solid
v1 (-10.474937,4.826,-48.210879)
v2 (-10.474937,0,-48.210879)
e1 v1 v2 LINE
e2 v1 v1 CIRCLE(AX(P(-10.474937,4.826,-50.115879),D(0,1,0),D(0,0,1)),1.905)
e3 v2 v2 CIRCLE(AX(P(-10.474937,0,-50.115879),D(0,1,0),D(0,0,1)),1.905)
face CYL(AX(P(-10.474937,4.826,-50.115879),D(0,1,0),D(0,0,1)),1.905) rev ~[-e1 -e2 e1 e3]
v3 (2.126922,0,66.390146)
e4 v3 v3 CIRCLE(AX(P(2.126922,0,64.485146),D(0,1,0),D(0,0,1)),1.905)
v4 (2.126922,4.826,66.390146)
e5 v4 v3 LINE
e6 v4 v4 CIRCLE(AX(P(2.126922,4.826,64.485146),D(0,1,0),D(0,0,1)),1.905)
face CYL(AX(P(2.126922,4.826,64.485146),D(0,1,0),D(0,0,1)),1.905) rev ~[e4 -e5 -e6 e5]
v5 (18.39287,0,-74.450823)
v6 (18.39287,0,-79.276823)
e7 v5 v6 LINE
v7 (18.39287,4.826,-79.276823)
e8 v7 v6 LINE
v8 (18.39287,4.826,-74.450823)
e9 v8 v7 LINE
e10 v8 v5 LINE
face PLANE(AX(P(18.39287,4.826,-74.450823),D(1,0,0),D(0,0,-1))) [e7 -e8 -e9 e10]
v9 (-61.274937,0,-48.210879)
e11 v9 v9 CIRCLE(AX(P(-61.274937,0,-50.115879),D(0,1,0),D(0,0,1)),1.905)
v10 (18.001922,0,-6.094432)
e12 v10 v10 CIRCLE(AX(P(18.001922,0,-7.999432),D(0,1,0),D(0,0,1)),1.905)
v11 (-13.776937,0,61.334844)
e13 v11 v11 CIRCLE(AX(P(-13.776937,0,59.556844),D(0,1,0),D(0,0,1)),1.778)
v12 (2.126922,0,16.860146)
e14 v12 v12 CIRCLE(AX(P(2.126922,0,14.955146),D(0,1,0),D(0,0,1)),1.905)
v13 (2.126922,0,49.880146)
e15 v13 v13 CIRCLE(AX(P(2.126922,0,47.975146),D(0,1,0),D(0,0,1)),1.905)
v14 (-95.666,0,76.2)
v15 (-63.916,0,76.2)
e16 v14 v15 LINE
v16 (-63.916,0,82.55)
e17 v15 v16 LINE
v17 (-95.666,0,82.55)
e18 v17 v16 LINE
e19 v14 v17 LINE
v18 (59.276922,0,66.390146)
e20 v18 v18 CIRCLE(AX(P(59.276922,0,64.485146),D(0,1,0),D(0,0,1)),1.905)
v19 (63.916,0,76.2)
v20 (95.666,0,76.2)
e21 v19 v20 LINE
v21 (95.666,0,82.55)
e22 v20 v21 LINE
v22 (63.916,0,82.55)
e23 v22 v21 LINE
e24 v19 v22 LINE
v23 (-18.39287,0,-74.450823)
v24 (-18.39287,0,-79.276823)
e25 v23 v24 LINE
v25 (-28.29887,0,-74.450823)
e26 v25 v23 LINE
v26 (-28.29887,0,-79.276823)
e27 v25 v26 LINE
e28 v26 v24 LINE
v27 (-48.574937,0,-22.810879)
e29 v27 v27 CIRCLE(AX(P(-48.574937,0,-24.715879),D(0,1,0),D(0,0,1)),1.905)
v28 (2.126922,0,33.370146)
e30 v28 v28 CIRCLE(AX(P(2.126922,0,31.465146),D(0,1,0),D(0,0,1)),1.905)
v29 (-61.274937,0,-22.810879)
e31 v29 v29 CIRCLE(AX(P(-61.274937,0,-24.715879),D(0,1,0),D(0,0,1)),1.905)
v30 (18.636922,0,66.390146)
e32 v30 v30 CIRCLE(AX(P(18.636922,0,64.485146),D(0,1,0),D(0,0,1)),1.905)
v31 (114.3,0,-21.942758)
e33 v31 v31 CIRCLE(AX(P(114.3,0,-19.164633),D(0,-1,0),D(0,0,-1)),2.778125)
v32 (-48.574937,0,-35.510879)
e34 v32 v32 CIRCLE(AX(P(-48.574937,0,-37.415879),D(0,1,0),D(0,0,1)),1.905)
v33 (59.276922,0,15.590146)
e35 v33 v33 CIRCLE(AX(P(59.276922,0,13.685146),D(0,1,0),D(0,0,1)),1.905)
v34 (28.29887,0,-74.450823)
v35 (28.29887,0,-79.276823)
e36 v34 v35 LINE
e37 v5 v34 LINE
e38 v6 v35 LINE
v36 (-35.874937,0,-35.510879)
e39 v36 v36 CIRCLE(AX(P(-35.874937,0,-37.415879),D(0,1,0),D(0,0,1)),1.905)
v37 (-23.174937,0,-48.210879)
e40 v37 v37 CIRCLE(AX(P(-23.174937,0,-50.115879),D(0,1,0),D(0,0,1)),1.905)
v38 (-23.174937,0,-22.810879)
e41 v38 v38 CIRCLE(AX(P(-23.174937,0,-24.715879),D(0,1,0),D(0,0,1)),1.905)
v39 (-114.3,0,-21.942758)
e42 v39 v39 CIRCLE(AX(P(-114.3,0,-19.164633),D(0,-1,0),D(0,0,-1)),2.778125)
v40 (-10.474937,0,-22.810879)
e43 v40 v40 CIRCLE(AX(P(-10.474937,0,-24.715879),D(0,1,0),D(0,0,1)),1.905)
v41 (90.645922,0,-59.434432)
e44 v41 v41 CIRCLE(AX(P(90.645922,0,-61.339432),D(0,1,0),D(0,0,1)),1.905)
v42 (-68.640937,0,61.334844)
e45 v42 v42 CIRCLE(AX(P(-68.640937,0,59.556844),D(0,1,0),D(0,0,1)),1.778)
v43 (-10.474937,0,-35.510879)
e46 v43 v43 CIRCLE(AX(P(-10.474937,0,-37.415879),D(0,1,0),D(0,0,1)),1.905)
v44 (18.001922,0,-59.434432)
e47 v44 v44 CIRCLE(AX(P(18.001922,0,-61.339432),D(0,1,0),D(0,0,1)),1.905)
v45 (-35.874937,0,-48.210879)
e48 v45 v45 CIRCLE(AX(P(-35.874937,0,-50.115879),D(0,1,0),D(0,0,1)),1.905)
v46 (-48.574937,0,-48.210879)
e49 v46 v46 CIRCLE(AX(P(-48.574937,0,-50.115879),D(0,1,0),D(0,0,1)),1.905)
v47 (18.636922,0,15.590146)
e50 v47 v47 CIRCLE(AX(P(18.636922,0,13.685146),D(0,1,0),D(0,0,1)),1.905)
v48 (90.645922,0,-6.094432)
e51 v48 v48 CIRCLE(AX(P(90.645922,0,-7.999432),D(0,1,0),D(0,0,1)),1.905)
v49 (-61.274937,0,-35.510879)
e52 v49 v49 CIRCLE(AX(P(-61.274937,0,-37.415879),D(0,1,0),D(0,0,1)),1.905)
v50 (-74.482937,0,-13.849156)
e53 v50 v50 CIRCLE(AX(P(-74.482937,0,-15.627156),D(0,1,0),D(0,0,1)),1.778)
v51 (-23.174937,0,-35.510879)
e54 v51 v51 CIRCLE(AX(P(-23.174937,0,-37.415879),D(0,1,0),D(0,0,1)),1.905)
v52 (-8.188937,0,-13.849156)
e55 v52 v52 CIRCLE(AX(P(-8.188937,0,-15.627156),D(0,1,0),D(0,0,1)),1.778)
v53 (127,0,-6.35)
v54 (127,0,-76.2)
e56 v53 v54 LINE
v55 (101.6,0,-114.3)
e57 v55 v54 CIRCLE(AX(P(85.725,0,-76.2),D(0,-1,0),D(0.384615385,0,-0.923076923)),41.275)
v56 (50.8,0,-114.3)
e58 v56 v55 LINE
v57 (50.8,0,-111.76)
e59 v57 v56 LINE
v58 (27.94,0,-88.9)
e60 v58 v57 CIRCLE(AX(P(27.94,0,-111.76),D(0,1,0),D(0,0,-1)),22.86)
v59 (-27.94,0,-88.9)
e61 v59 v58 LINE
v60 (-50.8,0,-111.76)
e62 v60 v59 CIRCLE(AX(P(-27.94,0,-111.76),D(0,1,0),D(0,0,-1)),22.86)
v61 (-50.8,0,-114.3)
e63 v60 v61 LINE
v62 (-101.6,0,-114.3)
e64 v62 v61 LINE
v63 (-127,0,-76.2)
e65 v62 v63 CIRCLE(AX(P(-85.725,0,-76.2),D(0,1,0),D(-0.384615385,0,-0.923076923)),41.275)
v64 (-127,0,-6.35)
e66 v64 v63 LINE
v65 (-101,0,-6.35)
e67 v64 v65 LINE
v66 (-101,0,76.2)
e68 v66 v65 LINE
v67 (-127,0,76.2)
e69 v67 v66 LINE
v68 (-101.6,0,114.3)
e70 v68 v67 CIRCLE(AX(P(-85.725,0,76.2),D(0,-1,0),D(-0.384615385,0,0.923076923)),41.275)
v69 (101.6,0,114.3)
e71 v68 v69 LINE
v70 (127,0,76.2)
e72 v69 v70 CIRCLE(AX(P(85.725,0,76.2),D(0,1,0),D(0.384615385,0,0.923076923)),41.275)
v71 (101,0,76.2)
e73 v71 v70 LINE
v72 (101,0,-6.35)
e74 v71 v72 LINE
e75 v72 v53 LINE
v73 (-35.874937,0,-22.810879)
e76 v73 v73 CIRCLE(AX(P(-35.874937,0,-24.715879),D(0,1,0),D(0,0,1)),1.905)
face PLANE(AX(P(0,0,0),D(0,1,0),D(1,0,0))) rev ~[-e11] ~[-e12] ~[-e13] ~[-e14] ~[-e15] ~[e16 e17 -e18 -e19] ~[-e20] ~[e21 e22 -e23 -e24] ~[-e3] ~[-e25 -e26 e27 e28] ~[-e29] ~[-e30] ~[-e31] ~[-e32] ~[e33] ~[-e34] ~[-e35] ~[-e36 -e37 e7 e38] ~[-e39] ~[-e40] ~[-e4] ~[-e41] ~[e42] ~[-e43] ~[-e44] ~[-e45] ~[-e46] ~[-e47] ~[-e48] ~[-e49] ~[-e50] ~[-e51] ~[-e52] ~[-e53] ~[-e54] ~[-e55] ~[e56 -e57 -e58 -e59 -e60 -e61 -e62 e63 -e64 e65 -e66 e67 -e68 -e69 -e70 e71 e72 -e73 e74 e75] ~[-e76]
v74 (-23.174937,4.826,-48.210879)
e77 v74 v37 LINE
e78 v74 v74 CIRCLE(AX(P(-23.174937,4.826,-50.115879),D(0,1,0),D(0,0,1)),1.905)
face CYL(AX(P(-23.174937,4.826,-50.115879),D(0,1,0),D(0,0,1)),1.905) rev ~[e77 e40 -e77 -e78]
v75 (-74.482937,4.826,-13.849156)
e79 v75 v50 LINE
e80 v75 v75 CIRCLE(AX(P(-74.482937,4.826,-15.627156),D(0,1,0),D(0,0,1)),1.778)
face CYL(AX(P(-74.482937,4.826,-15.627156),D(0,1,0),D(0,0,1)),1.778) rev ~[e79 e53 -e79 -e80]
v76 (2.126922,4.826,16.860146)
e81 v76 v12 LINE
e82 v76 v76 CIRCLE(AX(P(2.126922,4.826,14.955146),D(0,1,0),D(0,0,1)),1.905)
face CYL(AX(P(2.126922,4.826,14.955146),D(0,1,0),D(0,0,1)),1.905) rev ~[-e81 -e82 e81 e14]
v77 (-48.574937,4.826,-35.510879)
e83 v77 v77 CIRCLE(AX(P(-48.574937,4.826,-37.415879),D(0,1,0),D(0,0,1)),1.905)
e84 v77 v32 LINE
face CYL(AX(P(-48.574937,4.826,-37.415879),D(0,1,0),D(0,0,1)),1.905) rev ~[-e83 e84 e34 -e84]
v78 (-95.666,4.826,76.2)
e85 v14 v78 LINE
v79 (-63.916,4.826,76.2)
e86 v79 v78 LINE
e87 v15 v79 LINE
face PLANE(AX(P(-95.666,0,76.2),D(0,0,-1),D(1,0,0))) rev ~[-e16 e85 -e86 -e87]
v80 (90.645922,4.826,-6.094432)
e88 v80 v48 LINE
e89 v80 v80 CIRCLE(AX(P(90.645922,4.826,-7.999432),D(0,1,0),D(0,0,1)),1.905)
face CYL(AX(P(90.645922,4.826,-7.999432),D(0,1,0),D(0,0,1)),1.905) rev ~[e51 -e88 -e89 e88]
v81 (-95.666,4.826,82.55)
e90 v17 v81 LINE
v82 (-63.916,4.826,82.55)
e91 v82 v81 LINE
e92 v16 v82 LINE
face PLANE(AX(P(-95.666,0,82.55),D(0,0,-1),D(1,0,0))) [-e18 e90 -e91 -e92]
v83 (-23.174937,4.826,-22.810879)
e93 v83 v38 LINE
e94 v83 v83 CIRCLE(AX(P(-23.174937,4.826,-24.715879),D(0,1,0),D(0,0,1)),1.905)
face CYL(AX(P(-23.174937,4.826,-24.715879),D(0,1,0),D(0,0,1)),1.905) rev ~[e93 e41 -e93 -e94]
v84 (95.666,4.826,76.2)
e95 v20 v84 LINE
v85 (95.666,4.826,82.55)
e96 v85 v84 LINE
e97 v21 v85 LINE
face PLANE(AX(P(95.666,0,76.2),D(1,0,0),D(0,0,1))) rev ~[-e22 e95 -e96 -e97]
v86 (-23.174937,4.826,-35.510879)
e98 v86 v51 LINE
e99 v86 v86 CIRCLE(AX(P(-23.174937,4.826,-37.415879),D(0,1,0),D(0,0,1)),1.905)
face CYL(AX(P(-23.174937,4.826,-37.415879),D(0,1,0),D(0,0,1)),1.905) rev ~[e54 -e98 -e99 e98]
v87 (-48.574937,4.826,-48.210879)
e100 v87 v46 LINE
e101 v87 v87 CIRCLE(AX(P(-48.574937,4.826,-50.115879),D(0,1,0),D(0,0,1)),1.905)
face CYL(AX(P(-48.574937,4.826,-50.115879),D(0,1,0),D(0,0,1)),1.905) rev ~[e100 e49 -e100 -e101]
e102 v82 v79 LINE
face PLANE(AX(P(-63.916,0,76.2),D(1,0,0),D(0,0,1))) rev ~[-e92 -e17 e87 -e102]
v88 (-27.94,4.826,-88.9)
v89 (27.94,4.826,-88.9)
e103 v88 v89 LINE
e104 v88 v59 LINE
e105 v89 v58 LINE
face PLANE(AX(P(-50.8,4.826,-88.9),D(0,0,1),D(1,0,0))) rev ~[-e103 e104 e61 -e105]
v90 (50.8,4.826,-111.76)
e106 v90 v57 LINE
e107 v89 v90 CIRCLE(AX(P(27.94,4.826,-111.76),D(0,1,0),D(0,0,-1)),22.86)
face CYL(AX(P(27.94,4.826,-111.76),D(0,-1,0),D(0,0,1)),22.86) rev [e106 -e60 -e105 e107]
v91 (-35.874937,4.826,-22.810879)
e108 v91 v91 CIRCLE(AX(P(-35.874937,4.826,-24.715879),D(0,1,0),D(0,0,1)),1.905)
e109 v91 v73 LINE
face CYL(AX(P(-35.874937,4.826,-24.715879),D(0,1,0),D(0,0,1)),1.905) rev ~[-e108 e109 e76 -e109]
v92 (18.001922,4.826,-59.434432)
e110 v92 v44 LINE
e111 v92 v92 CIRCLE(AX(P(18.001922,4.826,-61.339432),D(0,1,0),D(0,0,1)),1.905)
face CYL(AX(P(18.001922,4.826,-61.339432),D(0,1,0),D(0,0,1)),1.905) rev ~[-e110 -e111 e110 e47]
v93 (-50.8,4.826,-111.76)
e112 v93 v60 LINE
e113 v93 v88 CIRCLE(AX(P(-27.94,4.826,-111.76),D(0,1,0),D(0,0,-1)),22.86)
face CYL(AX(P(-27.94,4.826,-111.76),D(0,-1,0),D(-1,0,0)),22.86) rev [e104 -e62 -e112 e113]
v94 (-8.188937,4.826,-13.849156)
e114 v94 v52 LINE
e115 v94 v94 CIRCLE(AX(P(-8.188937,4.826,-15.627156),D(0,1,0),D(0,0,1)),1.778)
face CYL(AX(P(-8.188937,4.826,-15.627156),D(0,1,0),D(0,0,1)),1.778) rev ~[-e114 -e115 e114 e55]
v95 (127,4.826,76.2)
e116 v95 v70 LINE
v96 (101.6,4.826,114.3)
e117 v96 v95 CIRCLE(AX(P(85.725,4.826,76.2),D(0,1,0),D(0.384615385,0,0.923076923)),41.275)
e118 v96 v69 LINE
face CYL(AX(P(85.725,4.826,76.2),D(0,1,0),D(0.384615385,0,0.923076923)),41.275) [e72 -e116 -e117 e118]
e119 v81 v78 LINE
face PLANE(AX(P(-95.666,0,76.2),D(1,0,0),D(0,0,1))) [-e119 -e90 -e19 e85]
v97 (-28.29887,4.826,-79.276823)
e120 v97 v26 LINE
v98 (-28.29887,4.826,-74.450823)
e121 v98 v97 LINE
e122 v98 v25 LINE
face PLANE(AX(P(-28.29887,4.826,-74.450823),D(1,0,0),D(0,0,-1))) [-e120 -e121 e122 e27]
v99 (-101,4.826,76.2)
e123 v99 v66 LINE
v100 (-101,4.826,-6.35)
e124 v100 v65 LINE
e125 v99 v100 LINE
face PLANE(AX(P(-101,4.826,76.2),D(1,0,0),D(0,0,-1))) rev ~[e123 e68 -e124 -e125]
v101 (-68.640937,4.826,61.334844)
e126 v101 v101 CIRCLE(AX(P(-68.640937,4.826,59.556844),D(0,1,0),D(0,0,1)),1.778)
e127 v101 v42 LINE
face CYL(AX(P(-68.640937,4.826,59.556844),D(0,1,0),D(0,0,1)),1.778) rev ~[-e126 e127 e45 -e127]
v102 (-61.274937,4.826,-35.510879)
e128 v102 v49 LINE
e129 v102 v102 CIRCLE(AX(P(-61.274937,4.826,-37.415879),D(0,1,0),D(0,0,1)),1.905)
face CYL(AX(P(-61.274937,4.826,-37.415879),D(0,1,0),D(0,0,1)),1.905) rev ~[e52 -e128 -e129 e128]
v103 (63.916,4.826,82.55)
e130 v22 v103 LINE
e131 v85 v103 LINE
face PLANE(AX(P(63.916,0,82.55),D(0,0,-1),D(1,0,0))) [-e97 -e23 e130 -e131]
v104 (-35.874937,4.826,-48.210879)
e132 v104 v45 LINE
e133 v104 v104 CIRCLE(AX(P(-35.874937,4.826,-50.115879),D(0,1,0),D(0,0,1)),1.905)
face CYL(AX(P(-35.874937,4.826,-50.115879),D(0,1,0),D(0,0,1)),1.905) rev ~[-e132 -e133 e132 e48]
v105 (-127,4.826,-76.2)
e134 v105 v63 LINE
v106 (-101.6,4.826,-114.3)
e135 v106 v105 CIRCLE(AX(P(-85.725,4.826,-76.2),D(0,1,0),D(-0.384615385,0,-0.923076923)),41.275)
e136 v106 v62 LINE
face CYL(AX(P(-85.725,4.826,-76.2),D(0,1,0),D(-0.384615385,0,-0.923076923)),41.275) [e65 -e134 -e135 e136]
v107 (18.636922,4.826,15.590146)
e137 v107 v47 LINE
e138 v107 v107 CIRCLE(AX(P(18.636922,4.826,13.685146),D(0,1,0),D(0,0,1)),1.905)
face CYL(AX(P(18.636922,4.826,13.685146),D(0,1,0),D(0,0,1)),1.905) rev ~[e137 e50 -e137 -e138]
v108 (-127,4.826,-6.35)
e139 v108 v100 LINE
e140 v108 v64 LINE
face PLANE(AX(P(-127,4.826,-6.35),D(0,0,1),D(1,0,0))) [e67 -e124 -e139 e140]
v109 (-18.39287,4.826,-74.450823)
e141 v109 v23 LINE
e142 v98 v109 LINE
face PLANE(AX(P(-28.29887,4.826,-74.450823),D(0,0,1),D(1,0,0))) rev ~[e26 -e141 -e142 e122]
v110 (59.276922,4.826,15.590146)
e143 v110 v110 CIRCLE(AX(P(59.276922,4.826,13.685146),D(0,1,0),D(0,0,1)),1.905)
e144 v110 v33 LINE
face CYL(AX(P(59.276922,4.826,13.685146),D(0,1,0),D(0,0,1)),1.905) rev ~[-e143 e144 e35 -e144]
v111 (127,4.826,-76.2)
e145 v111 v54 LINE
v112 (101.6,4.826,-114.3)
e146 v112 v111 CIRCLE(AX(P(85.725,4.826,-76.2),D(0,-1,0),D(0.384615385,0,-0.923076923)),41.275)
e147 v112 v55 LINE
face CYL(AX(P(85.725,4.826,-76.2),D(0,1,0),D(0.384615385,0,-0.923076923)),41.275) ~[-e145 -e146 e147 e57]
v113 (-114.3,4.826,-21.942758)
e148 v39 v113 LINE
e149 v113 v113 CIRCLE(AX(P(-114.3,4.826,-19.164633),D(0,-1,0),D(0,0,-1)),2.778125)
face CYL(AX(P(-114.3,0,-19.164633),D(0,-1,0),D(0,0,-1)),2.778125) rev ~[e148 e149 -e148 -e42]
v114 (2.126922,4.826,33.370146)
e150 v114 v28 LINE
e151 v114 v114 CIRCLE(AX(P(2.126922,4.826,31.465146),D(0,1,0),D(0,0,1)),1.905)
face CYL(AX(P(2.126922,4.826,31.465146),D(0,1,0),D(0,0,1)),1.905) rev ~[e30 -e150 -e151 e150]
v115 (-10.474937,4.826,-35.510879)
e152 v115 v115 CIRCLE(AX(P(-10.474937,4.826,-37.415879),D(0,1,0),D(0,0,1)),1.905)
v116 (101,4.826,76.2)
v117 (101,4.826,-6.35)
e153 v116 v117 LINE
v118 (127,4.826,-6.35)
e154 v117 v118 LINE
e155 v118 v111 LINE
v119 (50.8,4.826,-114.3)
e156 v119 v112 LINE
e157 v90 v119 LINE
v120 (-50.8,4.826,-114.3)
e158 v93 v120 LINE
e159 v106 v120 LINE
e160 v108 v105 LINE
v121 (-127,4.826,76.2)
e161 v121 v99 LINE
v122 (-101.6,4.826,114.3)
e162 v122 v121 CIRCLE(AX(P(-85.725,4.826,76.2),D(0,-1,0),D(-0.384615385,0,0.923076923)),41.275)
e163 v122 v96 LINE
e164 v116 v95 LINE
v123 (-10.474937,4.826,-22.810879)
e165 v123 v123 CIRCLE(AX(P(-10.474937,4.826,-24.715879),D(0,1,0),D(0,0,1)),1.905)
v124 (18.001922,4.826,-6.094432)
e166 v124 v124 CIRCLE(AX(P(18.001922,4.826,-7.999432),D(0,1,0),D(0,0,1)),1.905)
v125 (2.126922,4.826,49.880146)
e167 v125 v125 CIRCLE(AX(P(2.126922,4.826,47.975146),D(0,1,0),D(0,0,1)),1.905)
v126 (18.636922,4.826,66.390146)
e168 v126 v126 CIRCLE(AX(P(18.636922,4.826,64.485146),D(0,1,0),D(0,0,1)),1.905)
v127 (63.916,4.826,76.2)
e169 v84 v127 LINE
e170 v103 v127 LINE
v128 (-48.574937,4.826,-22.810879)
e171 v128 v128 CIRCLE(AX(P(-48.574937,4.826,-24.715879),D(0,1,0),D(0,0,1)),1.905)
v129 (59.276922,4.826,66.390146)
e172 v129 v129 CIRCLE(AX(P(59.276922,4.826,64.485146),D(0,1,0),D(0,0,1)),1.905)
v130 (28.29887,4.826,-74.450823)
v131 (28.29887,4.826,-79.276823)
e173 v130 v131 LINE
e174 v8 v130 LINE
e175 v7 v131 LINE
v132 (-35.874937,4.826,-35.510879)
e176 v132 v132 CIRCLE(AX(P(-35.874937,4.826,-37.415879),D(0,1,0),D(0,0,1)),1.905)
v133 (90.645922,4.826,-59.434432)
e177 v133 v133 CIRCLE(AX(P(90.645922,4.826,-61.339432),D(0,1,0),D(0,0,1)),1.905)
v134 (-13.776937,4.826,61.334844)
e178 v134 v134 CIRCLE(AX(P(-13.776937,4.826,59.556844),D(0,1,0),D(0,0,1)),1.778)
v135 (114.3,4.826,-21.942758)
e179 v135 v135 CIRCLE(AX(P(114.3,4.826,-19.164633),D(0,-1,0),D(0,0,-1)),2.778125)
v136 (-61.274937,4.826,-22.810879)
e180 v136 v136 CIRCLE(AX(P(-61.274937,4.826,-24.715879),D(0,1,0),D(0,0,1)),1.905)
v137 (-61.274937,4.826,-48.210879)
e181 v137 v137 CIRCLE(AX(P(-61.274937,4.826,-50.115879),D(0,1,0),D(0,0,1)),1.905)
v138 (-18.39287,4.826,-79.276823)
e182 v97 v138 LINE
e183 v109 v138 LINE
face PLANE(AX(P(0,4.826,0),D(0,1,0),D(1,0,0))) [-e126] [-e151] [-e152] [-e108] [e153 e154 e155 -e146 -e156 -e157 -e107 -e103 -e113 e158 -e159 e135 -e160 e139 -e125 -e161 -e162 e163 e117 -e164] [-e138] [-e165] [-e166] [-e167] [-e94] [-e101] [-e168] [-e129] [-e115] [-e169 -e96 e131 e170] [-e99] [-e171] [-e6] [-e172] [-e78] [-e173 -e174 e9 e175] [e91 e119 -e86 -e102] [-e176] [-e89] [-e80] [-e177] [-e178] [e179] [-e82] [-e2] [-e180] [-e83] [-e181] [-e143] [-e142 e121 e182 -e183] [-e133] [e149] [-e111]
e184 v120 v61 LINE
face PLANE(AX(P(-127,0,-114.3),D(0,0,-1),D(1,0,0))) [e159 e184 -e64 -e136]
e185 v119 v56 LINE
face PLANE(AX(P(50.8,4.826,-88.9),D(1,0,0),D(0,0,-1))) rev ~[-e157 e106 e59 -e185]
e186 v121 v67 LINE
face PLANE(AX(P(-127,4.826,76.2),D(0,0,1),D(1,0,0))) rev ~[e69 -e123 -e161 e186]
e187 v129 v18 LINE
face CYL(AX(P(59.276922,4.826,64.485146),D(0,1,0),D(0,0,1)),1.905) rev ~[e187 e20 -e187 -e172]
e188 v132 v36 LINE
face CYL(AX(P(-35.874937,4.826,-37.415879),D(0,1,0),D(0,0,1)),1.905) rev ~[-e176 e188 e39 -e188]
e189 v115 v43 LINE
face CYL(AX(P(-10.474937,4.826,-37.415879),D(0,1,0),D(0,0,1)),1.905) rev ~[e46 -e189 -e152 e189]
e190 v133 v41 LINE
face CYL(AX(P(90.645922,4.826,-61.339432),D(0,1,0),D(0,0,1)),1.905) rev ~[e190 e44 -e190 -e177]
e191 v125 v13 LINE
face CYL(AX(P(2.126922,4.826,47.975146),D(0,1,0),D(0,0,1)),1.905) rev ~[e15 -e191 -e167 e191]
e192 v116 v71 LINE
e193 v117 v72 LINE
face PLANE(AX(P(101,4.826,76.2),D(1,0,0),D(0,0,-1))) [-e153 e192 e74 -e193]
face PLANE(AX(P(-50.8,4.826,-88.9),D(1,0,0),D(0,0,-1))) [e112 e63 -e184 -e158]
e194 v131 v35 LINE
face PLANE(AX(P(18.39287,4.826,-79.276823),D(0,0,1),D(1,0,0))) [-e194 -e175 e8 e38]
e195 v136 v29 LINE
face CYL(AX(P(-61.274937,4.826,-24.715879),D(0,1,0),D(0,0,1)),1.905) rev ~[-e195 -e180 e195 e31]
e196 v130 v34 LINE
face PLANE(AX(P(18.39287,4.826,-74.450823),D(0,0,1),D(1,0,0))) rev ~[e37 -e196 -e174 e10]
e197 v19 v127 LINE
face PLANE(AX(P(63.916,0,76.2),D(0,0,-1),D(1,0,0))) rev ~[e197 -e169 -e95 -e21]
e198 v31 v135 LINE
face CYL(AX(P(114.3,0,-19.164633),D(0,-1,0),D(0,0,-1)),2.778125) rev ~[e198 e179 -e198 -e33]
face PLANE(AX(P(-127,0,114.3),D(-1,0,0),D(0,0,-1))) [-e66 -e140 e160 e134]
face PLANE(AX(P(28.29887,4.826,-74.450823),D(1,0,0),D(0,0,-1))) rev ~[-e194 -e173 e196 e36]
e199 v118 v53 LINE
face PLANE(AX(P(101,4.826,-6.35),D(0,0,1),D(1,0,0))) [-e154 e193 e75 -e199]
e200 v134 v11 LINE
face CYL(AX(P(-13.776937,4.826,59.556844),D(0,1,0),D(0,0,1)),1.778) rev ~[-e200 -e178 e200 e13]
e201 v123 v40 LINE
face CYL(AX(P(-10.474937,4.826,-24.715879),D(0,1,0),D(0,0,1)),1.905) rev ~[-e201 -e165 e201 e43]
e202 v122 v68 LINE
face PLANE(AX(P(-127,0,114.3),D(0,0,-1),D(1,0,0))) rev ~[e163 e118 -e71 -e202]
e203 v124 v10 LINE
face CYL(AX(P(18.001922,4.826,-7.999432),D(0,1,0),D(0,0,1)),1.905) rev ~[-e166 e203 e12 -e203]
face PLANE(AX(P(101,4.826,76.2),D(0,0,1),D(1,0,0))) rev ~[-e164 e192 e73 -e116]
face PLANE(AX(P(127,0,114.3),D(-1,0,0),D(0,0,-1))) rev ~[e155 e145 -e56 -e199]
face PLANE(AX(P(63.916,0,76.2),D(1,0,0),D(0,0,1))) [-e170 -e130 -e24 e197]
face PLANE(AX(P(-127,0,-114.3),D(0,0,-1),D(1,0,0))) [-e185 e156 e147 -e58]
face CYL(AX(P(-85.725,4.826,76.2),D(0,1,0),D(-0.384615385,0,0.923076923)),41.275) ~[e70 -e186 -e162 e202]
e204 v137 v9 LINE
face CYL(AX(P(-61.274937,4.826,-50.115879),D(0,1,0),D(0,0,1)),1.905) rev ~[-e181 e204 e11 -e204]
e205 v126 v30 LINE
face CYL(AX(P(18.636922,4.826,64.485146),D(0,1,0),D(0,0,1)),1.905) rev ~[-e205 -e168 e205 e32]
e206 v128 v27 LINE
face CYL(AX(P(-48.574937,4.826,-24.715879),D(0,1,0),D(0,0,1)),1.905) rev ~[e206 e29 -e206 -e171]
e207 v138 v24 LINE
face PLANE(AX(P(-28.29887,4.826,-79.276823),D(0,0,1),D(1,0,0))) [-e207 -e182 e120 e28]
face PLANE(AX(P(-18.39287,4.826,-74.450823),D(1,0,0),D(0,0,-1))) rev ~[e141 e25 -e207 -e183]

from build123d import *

# Parameters (mm, degrees)
SKETCH1_W           = 254
SKETCH1_H           = 228.6
BOSS_EXTRUDE1_DEPTH = 4.826
SKETCH2_W           = 26.00000007
SKETCH2_H           = 82.55
CUT_EXTRUDE1_DEPTH  = 4.826
CUT_EXTRUDE3_DEPTH  = 4.826
SKETCH7_W           = 50.8
SKETCH7_H           = 25.4
CUT_EXTRUDE5_DEPTH  = 4.826
FILLET9_R           = 22.86
FILLET10_R          = 22.86
CUT_EXTRUDE6_DEPTH  = 4.826
SKETCH9_W           = 31.75
SKETCH9_H           = 6.35
CUT_EXTRUDE7_DEPTH  = 171.929167423
SKETCH11_W          = 9.906
SKETCH11_H          = 4.826
CUT_EXTRUDE8_DEPTH  = 171.929167423
SKETCH13_R          = 1.905
CUT_EXTRUDE10_DEPTH = 171.929167423
SKETCH14_R          = 1.778
CUT_EXTRUDE11_DEPTH = 171.929167423
SKETCH15_R          = 1.905
CUT_EXTRUDE12_DEPTH = 171.929167423
SKETCH16_R          = 1.905
CUT_EXTRUDE13_DEPTH = 171.929167423
SKETCH17_R          = 2.778125
CUT_EXTRUDE14_DEPTH = 171.929167423
SKETCH18_R          = 1.905
CUT_EXTRUDE15_DEPTH = 171.929167423


with BuildPart() as part:
    # Sketch1 → Boss-Extrude1 (new body)
    with BuildSketch(Plane(origin=(0, 0, 0), x_dir=(1, 0, 0), z_dir=(0, 1, 0))):
        Rectangle(SKETCH1_W, SKETCH1_H)
    extrude(amount=BOSS_EXTRUDE1_DEPTH)

    # Sketch2 → Cut-Extrude1 (cut)
    with BuildSketch(Plane(origin=(0, 4.826, 0), x_dir=(1, 0, 0), z_dir=(0, 1, 0))):
        with Locations((-113.999999965, -34.925)):
            Rectangle(SKETCH2_W, SKETCH2_H)
        with Locations((113.999999965, -34.925)):
            Rectangle(SKETCH2_W, SKETCH2_H)
    extrude(amount=-CUT_EXTRUDE1_DEPTH, mode=Mode.SUBTRACT)

    # Sketch4 → Cut-Extrude3 (cut)
    with BuildSketch(Plane(origin=(0, 4.826, 0), x_dir=(1, 0, 0), z_dir=(0, 1, 0))):
        with BuildLine():
            Line((-127, 76.2), (-127, 114.3))
            Line((-127, 114.3), (-101.6, 114.3))
            ThreePointArc((-101.6, 114.3), (-120.067875899, 99.095250599), (-127, 76.2))
        make_face()
        with BuildLine():
            Line((127, 76.2), (127, 114.3))
            Line((127, 114.3), (101.6, 114.3))
            ThreePointArc((101.6, 114.3), (120.067875899, 99.095250599), (127, 76.2))
        make_face()
    extrude(amount=-CUT_EXTRUDE3_DEPTH, mode=Mode.SUBTRACT)

    # Sketch7 → Cut-Extrude5 (cut)
    with BuildSketch(Plane(origin=(0, 4.826, 0), x_dir=(1, 0, 0), z_dir=(0, 1, 0))):
        with Locations((-25.4, 101.6)):
            Rectangle(SKETCH7_W, SKETCH7_H)
        with Locations((25.4, 101.6)):
            Rectangle(SKETCH7_W, SKETCH7_H)
    extrude(amount=-CUT_EXTRUDE5_DEPTH, mode=Mode.SUBTRACT)

    # Fillet9
    fillet9_edges = [part.edges().sort_by_distance(p)[0] for p in [
        (-50.8, 2.413, -88.9),
    ]]
    fillet(fillet9_edges, radius=FILLET9_R)

    # Fillet10
    fillet10_edges = [part.edges().sort_by_distance(p)[0] for p in [
        (50.8, 2.413, -88.9),
    ]]
    fillet(fillet10_edges, radius=FILLET10_R)

    # Sketch8 → Cut-Extrude6 (cut)
    with BuildSketch(Plane(origin=(0, 4.826, 0), x_dir=(1, 0, 0), z_dir=(0, 1, 0))):
        with BuildLine():
            Line((-127, -76.2), (-127, -114.3))
            Line((-127, -114.3), (-101.6, -114.3))
            ThreePointArc((-101.6, -114.3), (-120.067875899, -99.095250599), (-127, -76.2))
        make_face()
        with BuildLine():
            Line((127, -114.3), (101.6, -114.3))
            ThreePointArc((101.6, -114.3), (120.067875899, -99.095250599), (127, -76.2))
            Line((127, -76.2), (127, -114.3))
        make_face()
    extrude(amount=-CUT_EXTRUDE6_DEPTH, mode=Mode.SUBTRACT)

    # Sketch9 → Cut-Extrude7 (cut, through all)
    with BuildSketch(Plane.XZ):
        with Locations((-79.79099993, 79.375)):
            Rectangle(SKETCH9_W, SKETCH9_H)
        with Locations((79.79099993, 79.375)):
            Rectangle(SKETCH9_W, SKETCH9_H)
    extrude(amount=-CUT_EXTRUDE7_DEPTH, mode=Mode.SUBTRACT)

    # Sketch11 → Cut-Extrude8 (cut, through all)
    with BuildSketch(Plane(origin=(0, 4.826, 0), x_dir=(1, 0, 0), z_dir=(0, 1, 0))):
        with Locations((-23.345869789, 76.863822677)):
            Rectangle(SKETCH11_W, SKETCH11_H)
        with Locations((23.345869789, 76.863822677)):
            Rectangle(SKETCH11_W, SKETCH11_H)
    extrude(amount=-CUT_EXTRUDE8_DEPTH, mode=Mode.SUBTRACT)

    # Sketch13 → Cut-Extrude10 (cut, through all)
    with BuildSketch(Plane(origin=(0, 4.826, 0), x_dir=(1, 0, 0), z_dir=(0, 1, 0))):
        with Locations(Location((-10.4749371, 24.715879034, 0), (0, 0, 270))):
            Circle(SKETCH13_R)
        with Locations(Location((-23.1749371, 24.715879034, 0), (0, 0, 270))):
            Circle(SKETCH13_R)
        with Locations(Location((-35.8749371, 24.715879034, 0), (0, 0, 270))):
            Circle(SKETCH13_R)
        with Locations(Location((-48.5749371, 24.715879034, 0), (0, 0, 270))):
            Circle(SKETCH13_R)
        with Locations(Location((-61.2749371, 24.715879034, 0), (0, 0, 270))):
            Circle(SKETCH13_R)
        with Locations(Location((-23.1749371, 37.415879034, 0), (0, 0, 270))):
            Circle(SKETCH13_R)
        with Locations(Location((-35.8749371, 37.415879034, 0), (0, 0, 270))):
            Circle(SKETCH13_R)
        with Locations(Location((-48.5749371, 37.415879034, 0), (0, 0, 270))):
            Circle(SKETCH13_R)
        with Locations(Location((-61.2749371, 37.415879034, 0), (0, 0, 270))):
            Circle(SKETCH13_R)
        with Locations(Location((-23.1749371, 50.115879034, 0), (0, 0, 270))):
            Circle(SKETCH13_R)
        with Locations(Location((-35.8749371, 50.115879034, 0), (0, 0, 270))):
            Circle(SKETCH13_R)
        with Locations(Location((-48.5749371, 50.115879034, 0), (0, 0, 270))):
            Circle(SKETCH13_R)
        with Locations(Location((-61.2749371, 50.115879034, 0), (0, 0, 270))):
            Circle(SKETCH13_R)
        with Locations(Location((-10.4749371, 37.415879034, 0), (0, 0, 270))):
            Circle(SKETCH13_R)
        with Locations(Location((-10.4749371, 50.115879034, 0), (0, 0, 270))):
            Circle(SKETCH13_R)
    extrude(amount=-CUT_EXTRUDE10_DEPTH, mode=Mode.SUBTRACT)

    # Sketch14 → Cut-Extrude11 (cut, through all)
    with BuildSketch(Plane(origin=(0, 4.826, 0), x_dir=(1, 0, 0), z_dir=(0, 1, 0))):
        with Locations(Location((-68.6409371, -59.556843517, 0), (0, 0, 270))):
            Circle(SKETCH14_R)
        with Locations(Location((-13.7769371, -59.556843517, 0), (0, 0, 270))):
            Circle(SKETCH14_R)
        with Locations(Location((-74.4829371, 15.627156483, 0), (0, 0, 270))):
            Circle(SKETCH14_R)
        with Locations(Location((-8.1889371, 15.627156483, 0), (0, 0, 270))):
            Circle(SKETCH14_R)
    extrude(amount=-CUT_EXTRUDE11_DEPTH, mode=Mode.SUBTRACT)

    # Sketch15 → Cut-Extrude12 (cut, through all)
    with BuildSketch(Plane(origin=(0, 4.826, 0), x_dir=(1, 0, 0), z_dir=(0, 1, 0))):
        with Locations(Location((59.276921846, -64.485146072, 0), (0, 0, 270))):
            Circle(SKETCH15_R)
        with Locations(Location((18.636921846, -64.485146072, 0), (0, 0, 270))):
            Circle(SKETCH15_R)
        with Locations(Location((59.276921846, -13.685146072, 0), (0, 0, 270))):
            Circle(SKETCH15_R)
        with Locations(Location((18.636921846, -13.685146072, 0), (0, 0, 270))):
            Circle(SKETCH15_R)
    extrude(amount=-CUT_EXTRUDE12_DEPTH, mode=Mode.SUBTRACT)

    # Sketch16 → Cut-Extrude13 (cut, through all)
    with BuildSketch(Plane(origin=(0, 4.826, 0), x_dir=(1, 0, 0), z_dir=(0, 1, 0))):
        with Locations(Location((90.645921846, 7.99943228, 0), (0, 0, 270))):
            Circle(SKETCH16_R)
        with Locations(Location((18.001921846, 7.99943228, 0), (0, 0, 270))):
            Circle(SKETCH16_R)
        with Locations(Location((18.001921846, 61.33943228, 0), (0, 0, 270))):
            Circle(SKETCH16_R)
        with Locations(Location((90.645921846, 61.33943228, 0), (0, 0, 270))):
            Circle(SKETCH16_R)
    extrude(amount=-CUT_EXTRUDE13_DEPTH, mode=Mode.SUBTRACT)

    # Sketch17 → Cut-Extrude14 (cut, through all)
    with BuildSketch(Plane.XZ):
        with Locations(Location((114.3, -19.164632523, 0), (0, 0, 270))):
            Circle(SKETCH17_R)
        with Locations(Location((-114.3, -19.164632523, 0), (0, 0, 270))):
            Circle(SKETCH17_R)
    extrude(amount=-CUT_EXTRUDE14_DEPTH, mode=Mode.SUBTRACT)

    # Sketch18 → Cut-Extrude15 (cut, through all)
    with BuildSketch(Plane(origin=(0, 4.826, 0), x_dir=(1, 0, 0), z_dir=(0, 1, 0))):
        with Locations(Location((2.126921846, -64.485146072, 0), (0, 0, 270))):
            Circle(SKETCH18_R)
        with Locations(Location((2.126921846, -47.975146072, 0), (0, 0, 270))):
            Circle(SKETCH18_R)
        with Locations(Location((2.126921846, -31.465146072, 0), (0, 0, 270))):
            Circle(SKETCH18_R)
        with Locations(Location((2.126921846, -14.955146072, 0), (0, 0, 270))):
            Circle(SKETCH18_R)
    extrude(amount=-CUT_EXTRUDE15_DEPTH, mode=Mode.SUBTRACT)


solid = part.part
